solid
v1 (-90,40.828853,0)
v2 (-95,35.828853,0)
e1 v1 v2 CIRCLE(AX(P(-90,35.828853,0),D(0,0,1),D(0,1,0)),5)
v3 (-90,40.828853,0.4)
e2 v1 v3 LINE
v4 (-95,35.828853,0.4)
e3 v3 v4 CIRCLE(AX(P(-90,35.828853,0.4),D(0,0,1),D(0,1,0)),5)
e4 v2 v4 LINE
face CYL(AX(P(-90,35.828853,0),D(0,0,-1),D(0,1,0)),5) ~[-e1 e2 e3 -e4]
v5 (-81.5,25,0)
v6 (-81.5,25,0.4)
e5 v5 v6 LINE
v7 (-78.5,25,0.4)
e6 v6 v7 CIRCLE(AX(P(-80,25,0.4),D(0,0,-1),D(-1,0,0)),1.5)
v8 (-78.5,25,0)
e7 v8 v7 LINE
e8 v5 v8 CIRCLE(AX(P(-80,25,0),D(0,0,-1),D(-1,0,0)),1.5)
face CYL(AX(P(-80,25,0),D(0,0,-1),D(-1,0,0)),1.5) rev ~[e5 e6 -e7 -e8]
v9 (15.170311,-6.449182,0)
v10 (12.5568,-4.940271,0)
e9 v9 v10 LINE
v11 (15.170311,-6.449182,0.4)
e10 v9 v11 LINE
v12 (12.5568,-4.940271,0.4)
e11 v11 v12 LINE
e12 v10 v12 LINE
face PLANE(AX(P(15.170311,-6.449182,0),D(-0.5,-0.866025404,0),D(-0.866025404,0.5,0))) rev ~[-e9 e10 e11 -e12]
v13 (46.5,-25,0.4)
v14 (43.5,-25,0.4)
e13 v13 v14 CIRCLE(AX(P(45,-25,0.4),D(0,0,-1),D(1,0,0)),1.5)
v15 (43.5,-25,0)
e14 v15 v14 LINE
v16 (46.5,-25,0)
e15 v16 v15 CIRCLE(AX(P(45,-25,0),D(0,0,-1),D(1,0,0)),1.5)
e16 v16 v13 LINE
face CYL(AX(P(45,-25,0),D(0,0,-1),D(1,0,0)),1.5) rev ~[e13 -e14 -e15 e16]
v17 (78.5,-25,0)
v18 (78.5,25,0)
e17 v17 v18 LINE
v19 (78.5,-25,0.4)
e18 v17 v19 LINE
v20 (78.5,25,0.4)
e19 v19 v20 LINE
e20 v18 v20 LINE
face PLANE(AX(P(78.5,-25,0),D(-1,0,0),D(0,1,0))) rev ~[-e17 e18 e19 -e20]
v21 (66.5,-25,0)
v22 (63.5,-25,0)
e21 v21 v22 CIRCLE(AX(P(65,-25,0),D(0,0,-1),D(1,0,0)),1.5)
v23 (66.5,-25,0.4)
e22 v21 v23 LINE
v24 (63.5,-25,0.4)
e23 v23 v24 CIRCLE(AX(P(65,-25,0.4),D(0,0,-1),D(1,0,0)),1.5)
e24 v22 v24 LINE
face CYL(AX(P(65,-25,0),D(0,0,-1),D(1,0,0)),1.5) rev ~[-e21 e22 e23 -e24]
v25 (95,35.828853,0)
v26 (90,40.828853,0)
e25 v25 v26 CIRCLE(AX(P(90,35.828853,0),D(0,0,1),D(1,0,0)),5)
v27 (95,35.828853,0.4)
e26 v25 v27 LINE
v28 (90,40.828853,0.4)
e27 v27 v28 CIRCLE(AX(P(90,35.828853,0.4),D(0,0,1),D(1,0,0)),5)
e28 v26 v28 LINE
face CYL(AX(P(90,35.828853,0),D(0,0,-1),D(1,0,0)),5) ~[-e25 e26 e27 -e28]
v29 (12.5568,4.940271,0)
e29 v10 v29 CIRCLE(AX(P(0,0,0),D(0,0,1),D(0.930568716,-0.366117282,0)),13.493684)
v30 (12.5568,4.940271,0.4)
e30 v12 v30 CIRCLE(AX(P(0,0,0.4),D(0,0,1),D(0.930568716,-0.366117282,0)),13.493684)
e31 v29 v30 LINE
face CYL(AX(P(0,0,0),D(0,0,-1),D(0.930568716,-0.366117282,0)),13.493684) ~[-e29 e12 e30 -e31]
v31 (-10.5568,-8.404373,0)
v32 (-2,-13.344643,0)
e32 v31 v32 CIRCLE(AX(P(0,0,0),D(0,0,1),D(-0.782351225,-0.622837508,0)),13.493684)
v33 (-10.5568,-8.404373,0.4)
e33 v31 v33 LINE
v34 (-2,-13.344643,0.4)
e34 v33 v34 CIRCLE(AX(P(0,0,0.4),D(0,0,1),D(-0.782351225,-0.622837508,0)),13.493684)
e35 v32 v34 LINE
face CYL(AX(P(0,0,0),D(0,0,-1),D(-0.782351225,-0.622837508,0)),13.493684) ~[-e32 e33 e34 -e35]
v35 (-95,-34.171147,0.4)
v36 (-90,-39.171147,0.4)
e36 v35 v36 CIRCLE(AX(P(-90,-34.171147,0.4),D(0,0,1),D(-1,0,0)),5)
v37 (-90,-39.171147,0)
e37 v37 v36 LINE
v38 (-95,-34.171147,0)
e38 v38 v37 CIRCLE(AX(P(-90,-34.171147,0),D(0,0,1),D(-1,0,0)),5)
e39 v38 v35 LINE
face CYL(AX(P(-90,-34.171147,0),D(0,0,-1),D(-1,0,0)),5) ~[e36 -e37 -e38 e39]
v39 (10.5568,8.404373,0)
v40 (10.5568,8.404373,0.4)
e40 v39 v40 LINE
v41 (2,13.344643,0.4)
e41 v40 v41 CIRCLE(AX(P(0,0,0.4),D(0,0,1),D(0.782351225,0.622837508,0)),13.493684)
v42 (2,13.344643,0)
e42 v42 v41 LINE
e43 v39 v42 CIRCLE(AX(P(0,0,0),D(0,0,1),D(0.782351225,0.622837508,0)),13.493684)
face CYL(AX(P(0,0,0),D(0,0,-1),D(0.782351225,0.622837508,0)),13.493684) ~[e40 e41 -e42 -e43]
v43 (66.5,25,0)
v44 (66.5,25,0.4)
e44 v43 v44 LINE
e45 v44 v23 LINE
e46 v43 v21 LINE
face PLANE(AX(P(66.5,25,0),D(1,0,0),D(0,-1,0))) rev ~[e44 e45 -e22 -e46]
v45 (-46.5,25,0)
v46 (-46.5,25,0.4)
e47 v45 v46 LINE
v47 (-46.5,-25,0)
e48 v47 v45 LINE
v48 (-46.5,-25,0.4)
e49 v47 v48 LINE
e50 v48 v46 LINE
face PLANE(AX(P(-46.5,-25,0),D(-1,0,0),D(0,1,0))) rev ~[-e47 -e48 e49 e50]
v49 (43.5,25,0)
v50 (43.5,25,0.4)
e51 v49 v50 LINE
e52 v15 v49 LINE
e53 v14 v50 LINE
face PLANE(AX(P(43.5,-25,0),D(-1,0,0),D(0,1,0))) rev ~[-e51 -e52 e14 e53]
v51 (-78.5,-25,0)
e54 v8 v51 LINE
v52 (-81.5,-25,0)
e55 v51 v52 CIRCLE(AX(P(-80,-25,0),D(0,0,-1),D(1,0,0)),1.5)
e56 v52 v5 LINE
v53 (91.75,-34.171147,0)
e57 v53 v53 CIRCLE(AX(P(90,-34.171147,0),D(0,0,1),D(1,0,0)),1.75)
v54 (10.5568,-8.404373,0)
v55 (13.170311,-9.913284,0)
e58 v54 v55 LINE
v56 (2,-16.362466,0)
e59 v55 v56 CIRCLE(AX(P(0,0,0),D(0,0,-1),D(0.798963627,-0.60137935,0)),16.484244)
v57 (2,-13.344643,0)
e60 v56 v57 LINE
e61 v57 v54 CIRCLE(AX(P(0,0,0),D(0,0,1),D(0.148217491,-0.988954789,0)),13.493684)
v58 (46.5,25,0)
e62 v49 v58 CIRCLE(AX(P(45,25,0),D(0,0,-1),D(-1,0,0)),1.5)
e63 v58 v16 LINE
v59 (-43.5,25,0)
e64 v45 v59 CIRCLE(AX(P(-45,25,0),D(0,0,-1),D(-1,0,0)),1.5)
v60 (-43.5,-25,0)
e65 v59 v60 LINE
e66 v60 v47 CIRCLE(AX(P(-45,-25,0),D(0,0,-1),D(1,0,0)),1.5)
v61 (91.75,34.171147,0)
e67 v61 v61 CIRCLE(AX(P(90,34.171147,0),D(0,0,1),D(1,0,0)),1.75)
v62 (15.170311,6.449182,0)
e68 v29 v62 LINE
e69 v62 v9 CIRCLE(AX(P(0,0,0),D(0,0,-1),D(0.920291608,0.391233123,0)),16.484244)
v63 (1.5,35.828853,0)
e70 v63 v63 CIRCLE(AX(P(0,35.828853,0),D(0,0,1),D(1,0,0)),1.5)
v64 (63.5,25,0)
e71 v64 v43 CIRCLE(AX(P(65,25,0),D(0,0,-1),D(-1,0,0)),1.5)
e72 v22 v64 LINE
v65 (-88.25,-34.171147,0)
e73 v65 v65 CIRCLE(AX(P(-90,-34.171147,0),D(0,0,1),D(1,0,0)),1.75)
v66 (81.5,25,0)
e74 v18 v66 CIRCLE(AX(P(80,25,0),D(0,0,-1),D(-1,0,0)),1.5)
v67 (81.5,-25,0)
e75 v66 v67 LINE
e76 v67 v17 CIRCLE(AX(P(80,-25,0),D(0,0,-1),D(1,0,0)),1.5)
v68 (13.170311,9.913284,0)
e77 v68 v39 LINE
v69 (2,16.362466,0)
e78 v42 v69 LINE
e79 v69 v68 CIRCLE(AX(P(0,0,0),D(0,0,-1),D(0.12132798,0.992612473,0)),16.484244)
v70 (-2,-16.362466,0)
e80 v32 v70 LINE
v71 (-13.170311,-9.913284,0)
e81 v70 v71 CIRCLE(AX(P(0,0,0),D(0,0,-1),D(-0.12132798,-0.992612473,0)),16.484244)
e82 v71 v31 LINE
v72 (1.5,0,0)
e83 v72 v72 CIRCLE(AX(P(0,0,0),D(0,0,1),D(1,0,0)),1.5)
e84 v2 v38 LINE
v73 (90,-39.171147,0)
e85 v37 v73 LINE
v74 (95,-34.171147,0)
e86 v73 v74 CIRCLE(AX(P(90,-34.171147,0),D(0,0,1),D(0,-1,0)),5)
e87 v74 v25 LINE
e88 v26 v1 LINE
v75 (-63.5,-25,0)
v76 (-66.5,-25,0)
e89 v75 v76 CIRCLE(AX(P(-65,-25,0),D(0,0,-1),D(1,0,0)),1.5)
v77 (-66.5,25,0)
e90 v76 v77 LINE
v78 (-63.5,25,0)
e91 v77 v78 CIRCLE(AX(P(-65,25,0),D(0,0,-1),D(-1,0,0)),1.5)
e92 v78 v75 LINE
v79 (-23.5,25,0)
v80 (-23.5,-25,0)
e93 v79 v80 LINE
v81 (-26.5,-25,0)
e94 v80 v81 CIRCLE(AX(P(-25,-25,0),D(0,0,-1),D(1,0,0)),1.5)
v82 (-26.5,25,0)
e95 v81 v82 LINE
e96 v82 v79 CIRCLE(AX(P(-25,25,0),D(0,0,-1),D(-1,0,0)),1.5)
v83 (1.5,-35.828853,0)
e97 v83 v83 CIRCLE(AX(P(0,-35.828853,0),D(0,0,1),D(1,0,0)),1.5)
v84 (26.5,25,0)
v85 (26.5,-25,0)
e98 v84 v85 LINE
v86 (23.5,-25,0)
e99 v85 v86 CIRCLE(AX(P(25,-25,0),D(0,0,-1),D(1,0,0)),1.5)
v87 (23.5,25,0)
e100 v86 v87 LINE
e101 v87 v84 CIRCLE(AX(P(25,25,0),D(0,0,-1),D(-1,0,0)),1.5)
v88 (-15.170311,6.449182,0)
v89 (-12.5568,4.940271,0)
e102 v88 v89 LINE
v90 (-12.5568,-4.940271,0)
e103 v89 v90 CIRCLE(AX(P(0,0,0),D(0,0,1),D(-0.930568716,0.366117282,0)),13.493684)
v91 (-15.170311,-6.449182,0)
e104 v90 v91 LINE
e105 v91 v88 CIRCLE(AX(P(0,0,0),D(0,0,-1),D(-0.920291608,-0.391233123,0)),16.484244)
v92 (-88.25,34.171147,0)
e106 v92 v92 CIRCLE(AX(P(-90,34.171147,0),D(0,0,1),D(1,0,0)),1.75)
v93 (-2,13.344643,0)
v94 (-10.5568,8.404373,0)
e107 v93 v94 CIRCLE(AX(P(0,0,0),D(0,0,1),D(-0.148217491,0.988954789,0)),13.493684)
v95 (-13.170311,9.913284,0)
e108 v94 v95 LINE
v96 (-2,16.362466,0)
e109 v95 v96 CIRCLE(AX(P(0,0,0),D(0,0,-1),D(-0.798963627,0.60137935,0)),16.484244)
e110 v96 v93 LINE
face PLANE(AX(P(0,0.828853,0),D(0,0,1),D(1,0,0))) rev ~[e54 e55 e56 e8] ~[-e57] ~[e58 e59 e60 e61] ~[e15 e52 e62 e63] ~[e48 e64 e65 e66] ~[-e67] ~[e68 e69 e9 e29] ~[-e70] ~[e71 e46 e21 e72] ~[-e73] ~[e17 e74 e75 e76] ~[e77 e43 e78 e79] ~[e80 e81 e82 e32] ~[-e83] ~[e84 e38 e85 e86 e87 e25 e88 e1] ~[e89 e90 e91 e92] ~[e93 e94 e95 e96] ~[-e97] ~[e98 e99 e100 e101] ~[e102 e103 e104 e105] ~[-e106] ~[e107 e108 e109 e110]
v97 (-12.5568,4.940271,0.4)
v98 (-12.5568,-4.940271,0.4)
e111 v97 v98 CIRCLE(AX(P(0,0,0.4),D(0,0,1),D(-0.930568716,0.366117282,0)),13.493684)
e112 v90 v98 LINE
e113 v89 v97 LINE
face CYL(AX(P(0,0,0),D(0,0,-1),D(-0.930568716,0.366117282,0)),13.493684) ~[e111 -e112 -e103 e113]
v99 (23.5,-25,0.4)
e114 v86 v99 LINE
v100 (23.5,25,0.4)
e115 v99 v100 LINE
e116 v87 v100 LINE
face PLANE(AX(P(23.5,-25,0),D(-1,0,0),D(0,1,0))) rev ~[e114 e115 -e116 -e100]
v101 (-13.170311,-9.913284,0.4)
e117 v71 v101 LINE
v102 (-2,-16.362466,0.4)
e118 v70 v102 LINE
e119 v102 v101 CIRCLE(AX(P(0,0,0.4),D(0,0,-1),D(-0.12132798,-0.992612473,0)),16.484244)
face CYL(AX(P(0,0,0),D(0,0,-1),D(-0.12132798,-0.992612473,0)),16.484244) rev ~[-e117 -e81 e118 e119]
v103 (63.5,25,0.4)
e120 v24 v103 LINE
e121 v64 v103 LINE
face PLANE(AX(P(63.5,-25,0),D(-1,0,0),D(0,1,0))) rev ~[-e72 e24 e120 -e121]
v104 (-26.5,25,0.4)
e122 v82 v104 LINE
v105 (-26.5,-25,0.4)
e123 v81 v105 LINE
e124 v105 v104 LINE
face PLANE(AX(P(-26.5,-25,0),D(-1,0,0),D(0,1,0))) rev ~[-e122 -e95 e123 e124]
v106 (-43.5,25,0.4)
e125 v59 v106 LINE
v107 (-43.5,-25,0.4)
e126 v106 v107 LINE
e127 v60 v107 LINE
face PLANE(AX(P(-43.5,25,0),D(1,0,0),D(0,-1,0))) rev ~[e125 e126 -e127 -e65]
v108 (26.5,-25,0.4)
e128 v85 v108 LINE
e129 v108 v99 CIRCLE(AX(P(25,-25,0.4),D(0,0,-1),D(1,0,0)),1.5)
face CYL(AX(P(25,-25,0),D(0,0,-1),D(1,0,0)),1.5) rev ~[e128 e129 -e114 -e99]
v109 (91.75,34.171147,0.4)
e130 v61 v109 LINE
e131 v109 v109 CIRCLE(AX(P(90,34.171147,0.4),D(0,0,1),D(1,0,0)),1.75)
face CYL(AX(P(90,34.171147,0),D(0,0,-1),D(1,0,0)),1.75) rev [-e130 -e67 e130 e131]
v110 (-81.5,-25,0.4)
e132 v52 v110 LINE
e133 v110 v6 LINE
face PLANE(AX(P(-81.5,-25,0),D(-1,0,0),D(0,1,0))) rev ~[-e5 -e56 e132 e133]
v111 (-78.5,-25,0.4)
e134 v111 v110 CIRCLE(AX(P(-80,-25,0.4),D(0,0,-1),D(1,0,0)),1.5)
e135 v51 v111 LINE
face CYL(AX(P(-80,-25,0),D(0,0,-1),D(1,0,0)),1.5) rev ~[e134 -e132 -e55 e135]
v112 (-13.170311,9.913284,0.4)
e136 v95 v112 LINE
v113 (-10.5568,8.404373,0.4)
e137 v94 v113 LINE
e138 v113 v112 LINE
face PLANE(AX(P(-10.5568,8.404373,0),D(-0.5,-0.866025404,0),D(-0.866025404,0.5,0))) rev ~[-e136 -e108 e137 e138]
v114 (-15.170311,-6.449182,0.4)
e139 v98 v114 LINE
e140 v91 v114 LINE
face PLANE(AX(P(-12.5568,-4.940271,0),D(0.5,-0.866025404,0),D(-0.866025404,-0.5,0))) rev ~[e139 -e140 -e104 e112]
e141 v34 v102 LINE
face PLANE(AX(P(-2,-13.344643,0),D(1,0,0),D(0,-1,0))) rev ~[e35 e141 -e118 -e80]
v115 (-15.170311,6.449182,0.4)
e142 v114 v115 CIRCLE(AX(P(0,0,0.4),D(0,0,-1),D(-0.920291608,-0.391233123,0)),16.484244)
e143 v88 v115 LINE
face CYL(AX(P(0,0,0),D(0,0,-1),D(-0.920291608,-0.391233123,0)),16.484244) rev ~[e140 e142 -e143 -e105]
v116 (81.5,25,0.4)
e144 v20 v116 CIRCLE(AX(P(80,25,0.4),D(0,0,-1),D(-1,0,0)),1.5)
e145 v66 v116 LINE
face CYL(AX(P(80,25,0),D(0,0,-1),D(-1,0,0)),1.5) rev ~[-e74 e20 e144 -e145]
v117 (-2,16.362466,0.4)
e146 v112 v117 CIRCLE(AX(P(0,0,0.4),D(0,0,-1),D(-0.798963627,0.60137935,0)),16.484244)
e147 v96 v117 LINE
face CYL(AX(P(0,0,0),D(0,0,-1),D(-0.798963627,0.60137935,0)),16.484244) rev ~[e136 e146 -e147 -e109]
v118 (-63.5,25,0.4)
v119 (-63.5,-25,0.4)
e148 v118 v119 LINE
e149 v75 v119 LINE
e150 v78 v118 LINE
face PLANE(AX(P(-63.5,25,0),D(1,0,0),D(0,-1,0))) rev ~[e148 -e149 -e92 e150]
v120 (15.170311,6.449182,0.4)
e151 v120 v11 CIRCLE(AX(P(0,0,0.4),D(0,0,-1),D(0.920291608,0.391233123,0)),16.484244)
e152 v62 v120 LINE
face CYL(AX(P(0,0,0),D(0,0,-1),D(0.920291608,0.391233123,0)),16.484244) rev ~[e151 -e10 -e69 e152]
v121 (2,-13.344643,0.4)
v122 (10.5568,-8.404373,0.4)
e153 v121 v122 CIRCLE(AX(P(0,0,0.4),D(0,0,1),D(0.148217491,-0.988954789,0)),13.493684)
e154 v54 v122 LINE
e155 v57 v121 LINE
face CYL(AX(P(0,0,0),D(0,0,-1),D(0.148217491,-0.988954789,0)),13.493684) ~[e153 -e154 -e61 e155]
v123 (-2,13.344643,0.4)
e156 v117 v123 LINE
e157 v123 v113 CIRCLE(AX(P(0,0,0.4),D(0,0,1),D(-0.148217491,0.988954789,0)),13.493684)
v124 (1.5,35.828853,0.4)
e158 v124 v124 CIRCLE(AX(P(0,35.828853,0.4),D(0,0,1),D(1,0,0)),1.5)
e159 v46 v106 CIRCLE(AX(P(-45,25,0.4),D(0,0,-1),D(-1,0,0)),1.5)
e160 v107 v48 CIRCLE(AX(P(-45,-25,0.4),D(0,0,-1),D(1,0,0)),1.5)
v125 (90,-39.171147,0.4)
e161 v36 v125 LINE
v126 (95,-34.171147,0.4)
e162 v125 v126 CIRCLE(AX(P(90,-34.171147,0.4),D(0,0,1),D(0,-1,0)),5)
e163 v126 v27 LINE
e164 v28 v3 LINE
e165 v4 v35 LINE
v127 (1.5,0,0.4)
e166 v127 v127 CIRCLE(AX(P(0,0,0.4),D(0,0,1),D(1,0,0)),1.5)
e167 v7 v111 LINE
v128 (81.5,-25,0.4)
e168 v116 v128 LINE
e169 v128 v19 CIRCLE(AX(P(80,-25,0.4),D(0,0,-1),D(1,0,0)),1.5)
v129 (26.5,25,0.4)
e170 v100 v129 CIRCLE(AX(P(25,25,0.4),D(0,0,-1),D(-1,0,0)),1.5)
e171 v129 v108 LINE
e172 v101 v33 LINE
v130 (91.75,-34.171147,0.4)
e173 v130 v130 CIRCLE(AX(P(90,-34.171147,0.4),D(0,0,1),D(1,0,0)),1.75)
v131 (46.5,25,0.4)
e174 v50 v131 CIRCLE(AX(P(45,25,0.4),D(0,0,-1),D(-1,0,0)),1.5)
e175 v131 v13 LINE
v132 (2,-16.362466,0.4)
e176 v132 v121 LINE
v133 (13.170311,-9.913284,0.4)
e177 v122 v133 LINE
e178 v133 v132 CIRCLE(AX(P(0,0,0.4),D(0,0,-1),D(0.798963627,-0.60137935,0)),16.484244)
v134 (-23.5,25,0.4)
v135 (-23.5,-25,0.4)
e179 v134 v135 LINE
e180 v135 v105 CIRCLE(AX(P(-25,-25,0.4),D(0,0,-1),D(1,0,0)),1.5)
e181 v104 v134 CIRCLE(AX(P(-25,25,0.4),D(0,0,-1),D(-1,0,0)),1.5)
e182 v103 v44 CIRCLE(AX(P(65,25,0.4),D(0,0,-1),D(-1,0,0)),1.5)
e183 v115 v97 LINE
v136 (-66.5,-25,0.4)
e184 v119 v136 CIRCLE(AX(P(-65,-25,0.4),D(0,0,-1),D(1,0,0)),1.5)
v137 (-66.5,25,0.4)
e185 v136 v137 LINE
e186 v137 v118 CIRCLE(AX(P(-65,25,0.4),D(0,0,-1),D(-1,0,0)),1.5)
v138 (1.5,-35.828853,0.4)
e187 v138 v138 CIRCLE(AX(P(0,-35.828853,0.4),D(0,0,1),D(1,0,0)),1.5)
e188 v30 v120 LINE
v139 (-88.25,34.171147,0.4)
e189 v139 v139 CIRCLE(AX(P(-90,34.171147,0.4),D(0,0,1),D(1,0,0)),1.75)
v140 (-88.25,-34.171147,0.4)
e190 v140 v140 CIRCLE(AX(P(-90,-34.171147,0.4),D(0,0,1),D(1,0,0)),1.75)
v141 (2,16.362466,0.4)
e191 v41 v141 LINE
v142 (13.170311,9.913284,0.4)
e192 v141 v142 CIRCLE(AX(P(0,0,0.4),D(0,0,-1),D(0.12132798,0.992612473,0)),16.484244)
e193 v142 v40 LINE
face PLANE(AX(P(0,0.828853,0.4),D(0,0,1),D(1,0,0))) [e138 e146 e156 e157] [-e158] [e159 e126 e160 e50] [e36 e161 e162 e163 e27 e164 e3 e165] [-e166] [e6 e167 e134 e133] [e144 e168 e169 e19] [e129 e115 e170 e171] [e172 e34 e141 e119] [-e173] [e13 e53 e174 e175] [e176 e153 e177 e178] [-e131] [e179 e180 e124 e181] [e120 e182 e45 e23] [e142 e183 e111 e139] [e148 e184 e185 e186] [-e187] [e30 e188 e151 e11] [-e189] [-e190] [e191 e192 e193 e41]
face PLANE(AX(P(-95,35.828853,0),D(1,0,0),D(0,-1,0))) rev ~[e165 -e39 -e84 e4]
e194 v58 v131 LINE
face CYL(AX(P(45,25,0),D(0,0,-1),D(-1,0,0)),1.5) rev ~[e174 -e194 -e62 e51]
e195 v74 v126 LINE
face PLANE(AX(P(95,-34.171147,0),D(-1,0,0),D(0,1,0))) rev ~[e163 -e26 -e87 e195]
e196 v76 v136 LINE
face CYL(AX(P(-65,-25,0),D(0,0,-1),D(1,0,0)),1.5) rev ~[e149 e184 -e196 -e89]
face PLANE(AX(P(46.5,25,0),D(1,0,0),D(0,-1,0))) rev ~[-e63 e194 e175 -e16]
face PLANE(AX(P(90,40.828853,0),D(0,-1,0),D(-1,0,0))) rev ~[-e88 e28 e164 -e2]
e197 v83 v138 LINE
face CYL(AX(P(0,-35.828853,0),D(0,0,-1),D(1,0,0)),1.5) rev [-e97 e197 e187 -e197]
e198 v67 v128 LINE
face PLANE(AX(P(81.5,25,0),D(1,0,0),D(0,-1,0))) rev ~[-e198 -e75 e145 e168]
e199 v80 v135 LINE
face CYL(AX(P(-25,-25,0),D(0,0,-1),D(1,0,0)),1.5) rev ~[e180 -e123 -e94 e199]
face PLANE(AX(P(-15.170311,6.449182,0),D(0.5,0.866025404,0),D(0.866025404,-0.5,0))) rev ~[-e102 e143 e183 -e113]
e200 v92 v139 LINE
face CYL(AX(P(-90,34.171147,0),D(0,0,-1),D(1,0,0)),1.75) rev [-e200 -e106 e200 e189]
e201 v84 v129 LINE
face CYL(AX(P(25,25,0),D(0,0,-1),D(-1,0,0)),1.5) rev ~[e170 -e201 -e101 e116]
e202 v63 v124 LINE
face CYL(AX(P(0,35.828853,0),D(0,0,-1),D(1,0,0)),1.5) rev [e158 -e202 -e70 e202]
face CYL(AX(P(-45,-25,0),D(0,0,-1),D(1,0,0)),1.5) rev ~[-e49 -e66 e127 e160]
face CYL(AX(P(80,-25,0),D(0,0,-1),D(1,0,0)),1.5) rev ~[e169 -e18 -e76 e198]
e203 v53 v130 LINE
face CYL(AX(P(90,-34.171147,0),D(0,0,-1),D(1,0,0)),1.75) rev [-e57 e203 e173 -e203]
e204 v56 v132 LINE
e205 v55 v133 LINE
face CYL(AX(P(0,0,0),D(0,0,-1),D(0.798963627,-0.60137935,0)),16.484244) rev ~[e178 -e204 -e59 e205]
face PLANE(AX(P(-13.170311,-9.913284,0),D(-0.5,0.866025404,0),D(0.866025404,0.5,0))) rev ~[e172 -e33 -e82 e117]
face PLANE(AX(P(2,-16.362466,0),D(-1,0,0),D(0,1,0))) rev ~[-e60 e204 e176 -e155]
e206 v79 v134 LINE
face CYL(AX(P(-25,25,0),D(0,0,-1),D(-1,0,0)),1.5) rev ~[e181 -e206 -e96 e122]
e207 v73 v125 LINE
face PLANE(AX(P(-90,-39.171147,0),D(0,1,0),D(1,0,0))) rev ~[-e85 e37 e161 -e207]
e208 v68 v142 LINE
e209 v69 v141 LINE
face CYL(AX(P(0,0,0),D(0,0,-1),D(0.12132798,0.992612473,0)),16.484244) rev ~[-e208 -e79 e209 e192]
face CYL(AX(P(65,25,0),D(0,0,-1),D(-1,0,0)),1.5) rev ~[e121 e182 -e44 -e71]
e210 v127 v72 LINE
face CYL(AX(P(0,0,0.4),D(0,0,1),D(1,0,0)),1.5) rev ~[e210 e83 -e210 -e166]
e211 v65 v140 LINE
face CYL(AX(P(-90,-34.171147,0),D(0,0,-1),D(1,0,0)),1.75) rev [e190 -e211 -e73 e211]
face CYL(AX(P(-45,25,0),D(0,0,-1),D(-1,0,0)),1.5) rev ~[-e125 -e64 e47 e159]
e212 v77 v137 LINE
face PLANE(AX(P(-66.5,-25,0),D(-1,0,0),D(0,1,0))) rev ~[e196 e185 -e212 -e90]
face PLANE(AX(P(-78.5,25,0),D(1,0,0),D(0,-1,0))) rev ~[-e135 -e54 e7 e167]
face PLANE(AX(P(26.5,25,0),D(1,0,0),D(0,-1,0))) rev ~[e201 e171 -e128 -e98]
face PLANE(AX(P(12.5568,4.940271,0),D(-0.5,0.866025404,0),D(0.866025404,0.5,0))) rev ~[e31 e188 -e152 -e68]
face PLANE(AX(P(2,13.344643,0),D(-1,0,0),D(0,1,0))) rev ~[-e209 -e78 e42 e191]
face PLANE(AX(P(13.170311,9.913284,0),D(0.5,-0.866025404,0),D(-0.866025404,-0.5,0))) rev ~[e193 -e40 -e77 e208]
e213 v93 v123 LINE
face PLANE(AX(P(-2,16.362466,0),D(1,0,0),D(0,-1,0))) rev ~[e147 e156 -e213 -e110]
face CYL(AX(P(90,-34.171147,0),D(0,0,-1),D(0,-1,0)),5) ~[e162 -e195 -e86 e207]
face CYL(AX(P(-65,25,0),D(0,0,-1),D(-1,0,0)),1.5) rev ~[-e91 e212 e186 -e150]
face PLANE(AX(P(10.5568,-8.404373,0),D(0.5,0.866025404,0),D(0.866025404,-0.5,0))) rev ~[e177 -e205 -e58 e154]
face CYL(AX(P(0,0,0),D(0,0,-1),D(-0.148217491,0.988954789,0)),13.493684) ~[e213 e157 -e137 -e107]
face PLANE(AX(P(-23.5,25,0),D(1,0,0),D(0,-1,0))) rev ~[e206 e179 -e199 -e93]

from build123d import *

# Parameters (mm, degrees)
SKETCH_1_R          = 1.75
SKETCH_1_R_2        = 1.5
EXTRUDE_1_DEPTH     = 0.4
SKETCH_2_R          = 1.5
CUT_EXTRUDE_1_DEPTH = 10


with BuildPart() as part:
    # 草图1 → 凸台-拉伸1 (new body)
    with BuildSketch(Plane.XY):
        with BuildLine():
            Line((90, 40.82885301), (-90, 40.82885301))
            ThreePointArc((-90, 40.82885301), (-93.535533906, 39.364386916), (-95, 35.82885301))
            Line((-95, 35.82885301), (-95, -34.17114699))
            ThreePointArc((-95, -34.17114699), (-93.535533906, -37.706680896), (-90, -39.17114699))
            Line((-90, -39.17114699), (90, -39.17114699))
            ThreePointArc((90, -39.17114699), (93.535533906, -37.706680896), (95, -34.17114699))
            Line((95, -34.17114699), (95, 35.82885301))
            ThreePointArc((95, 35.82885301), (93.535533906, 39.364386916), (90, 40.82885301))
        make_face()
        with Locations((-90, -34.17114699)):
            Circle(SKETCH_1_R, mode=Mode.SUBTRACT)
        with BuildLine():
            ThreePointArc((-78.5, -25), (-80, -26.5), (-81.5, -25))
            Line((-81.5, -25), (-81.5, 25))
            ThreePointArc((-81.5, 25), (-80, 26.5), (-78.5, 25))
            Line((-78.5, 25), (-78.5, -25))
        make_face(mode=Mode.SUBTRACT)
        with BuildLine():
            ThreePointArc((-63.5, -25), (-65, -26.5), (-66.5, -25))
            Line((-66.5, -25), (-66.5, 25))
            ThreePointArc((-66.5, 25), (-65, 26.5), (-63.5, 25))
            Line((-63.5, 25), (-63.5, -25))
        make_face(mode=Mode.SUBTRACT)
        with BuildLine():
            ThreePointArc((-43.5, -25), (-45, -26.5), (-46.5, -25))
            Line((-46.5, -25), (-46.5, 25))
            ThreePointArc((-46.5, 25), (-45, 26.5), (-43.5, 25))
            Line((-43.5, 25), (-43.5, -25))
        make_face(mode=Mode.SUBTRACT)
        with BuildLine():
            ThreePointArc((-23.5, -25), (-25, -26.5), (-26.5, -25))
            Line((-26.5, -25), (-26.5, 25))
            ThreePointArc((-26.5, 25), (-25, 26.5), (-23.5, 25))
            Line((-23.5, 25), (-23.5, -25))
        make_face(mode=Mode.SUBTRACT)
        with Locations((0, -35.82885301)):
            Circle(SKETCH_1_R_2, mode=Mode.SUBTRACT)
        with Locations((90, -34.17114699)):
            Circle(SKETCH_1_R, mode=Mode.SUBTRACT)
        with BuildLine():
            Line((-2, 16.362465919), (-2, 13.344643459))
            ThreePointArc((-2, 13.344643459), (-6.746842021, 11.685873172), (-10.55680024, 8.404372537))
            Line((-10.55680024, 8.404372537), (-13.170311155, 9.913283767))
            ThreePointArc((-13.170311155, 9.913283767), (-8.242121859, 14.275773822), (-2, 16.362465919))
        make_face(mode=Mode.SUBTRACT)
        with BuildLine():
            ThreePointArc((-12.55680024, 4.940270922), (-13.493684043, 0), (-12.55680024, -4.940270922))
            Line((-12.55680024, -4.940270922), (-15.170311155, -6.449182152))
            ThreePointArc((-15.170311155, -6.449182152), (-16.484243718, 0), (-15.170311155, 6.449182152))
            Line((-15.170311155, 6.449182152), (-12.55680024, 4.940270922))
        make_face(mode=Mode.SUBTRACT)
        with BuildLine():
            ThreePointArc((-10.55680024, -8.404372537), (-6.746842021, -11.685873172), (-2, -13.344643459))
            Line((-2, -13.344643459), (-2, -16.362465919))
            ThreePointArc((-2, -16.362465919), (-8.242121859, -14.275773822), (-13.170311155, -9.913283767))
            Line((-13.170311155, -9.913283767), (-10.55680024, -8.404372537))
        make_face(mode=Mode.SUBTRACT)
        with BuildLine():
            ThreePointArc((2, -13.344643459), (6.746842021, -11.685873172), (10.55680024, -8.404372537))
            Line((10.55680024, -8.404372537), (13.170311155, -9.913283767))
            ThreePointArc((13.170311155, -9.913283767), (8.242121859, -14.275773822), (2, -16.362465919))
            Line((2, -16.362465919), (2, -13.344643459))
        make_face(mode=Mode.SUBTRACT)
        with BuildLine():
            ThreePointArc((12.55680024, -4.940270922), (13.493684043, 0), (12.55680024, 4.940270922))
            Line((12.55680024, 4.940270922), (15.170311155, 6.449182152))
            ThreePointArc((15.170311155, 6.449182152), (16.484243718, 0), (15.170311155, -6.449182152))
            Line((15.170311155, -6.449182152), (12.55680024, -4.940270922))
        make_face(mode=Mode.SUBTRACT)
        with BuildLine():
            ThreePointArc((10.55680024, 8.404372537), (6.746842021, 11.685873172), (2, 13.344643459))
            Line((2, 13.344643459), (2, 16.362465919))
            ThreePointArc((2, 16.362465919), (8.242121859, 14.275773822), (13.170311155, 9.913283767))
            Line((13.170311155, 9.913283767), (10.55680024, 8.404372537))
        make_face(mode=Mode.SUBTRACT)
        with BuildLine():
            ThreePointArc((26.5, -25), (25, -26.5), (23.5, -25))
            Line((23.5, -25), (23.5, 25))
            ThreePointArc((23.5, 25), (25, 26.5), (26.5, 25))
            Line((26.5, 25), (26.5, -25))
        make_face(mode=Mode.SUBTRACT)
        with BuildLine():
            ThreePointArc((46.5, -25), (45, -26.5), (43.5, -25))
            Line((43.5, -25), (43.5, 25))
            ThreePointArc((43.5, 25), (45, 26.5), (46.5, 25))
            Line((46.5, 25), (46.5, -25))
        make_face(mode=Mode.SUBTRACT)
        with BuildLine():
            ThreePointArc((66.5, -25), (65, -26.5), (63.5, -25))
            Line((63.5, -25), (63.5, 25))
            ThreePointArc((63.5, 25), (65, 26.5), (66.5, 25))
            Line((66.5, 25), (66.5, -25))
        make_face(mode=Mode.SUBTRACT)
        with BuildLine():
            Line((81.5, 25), (81.5, -25))
            ThreePointArc((81.5, -25), (80, -26.5), (78.5, -25))
            Line((78.5, -25), (78.5, 25))
            ThreePointArc((78.5, 25), (80, 26.5), (81.5, 25))
        make_face(mode=Mode.SUBTRACT)
        with Locations((-90, 34.17114699)):
            Circle(SKETCH_1_R, mode=Mode.SUBTRACT)
        with Locations((0, 35.82885301)):
            Circle(SKETCH_1_R_2, mode=Mode.SUBTRACT)
        with Locations((90, 34.17114699)):
            Circle(SKETCH_1_R, mode=Mode.SUBTRACT)
    extrude(amount=EXTRUDE_1_DEPTH)

    # 草图2 → 切除-拉伸1 (cut)
    with BuildSketch(Plane.XY.offset(0.4)):
        Circle(SKETCH_2_R)
    extrude(amount=-CUT_EXTRUDE_1_DEPTH, mode=Mode.SUBTRACT)


solid = part.part
